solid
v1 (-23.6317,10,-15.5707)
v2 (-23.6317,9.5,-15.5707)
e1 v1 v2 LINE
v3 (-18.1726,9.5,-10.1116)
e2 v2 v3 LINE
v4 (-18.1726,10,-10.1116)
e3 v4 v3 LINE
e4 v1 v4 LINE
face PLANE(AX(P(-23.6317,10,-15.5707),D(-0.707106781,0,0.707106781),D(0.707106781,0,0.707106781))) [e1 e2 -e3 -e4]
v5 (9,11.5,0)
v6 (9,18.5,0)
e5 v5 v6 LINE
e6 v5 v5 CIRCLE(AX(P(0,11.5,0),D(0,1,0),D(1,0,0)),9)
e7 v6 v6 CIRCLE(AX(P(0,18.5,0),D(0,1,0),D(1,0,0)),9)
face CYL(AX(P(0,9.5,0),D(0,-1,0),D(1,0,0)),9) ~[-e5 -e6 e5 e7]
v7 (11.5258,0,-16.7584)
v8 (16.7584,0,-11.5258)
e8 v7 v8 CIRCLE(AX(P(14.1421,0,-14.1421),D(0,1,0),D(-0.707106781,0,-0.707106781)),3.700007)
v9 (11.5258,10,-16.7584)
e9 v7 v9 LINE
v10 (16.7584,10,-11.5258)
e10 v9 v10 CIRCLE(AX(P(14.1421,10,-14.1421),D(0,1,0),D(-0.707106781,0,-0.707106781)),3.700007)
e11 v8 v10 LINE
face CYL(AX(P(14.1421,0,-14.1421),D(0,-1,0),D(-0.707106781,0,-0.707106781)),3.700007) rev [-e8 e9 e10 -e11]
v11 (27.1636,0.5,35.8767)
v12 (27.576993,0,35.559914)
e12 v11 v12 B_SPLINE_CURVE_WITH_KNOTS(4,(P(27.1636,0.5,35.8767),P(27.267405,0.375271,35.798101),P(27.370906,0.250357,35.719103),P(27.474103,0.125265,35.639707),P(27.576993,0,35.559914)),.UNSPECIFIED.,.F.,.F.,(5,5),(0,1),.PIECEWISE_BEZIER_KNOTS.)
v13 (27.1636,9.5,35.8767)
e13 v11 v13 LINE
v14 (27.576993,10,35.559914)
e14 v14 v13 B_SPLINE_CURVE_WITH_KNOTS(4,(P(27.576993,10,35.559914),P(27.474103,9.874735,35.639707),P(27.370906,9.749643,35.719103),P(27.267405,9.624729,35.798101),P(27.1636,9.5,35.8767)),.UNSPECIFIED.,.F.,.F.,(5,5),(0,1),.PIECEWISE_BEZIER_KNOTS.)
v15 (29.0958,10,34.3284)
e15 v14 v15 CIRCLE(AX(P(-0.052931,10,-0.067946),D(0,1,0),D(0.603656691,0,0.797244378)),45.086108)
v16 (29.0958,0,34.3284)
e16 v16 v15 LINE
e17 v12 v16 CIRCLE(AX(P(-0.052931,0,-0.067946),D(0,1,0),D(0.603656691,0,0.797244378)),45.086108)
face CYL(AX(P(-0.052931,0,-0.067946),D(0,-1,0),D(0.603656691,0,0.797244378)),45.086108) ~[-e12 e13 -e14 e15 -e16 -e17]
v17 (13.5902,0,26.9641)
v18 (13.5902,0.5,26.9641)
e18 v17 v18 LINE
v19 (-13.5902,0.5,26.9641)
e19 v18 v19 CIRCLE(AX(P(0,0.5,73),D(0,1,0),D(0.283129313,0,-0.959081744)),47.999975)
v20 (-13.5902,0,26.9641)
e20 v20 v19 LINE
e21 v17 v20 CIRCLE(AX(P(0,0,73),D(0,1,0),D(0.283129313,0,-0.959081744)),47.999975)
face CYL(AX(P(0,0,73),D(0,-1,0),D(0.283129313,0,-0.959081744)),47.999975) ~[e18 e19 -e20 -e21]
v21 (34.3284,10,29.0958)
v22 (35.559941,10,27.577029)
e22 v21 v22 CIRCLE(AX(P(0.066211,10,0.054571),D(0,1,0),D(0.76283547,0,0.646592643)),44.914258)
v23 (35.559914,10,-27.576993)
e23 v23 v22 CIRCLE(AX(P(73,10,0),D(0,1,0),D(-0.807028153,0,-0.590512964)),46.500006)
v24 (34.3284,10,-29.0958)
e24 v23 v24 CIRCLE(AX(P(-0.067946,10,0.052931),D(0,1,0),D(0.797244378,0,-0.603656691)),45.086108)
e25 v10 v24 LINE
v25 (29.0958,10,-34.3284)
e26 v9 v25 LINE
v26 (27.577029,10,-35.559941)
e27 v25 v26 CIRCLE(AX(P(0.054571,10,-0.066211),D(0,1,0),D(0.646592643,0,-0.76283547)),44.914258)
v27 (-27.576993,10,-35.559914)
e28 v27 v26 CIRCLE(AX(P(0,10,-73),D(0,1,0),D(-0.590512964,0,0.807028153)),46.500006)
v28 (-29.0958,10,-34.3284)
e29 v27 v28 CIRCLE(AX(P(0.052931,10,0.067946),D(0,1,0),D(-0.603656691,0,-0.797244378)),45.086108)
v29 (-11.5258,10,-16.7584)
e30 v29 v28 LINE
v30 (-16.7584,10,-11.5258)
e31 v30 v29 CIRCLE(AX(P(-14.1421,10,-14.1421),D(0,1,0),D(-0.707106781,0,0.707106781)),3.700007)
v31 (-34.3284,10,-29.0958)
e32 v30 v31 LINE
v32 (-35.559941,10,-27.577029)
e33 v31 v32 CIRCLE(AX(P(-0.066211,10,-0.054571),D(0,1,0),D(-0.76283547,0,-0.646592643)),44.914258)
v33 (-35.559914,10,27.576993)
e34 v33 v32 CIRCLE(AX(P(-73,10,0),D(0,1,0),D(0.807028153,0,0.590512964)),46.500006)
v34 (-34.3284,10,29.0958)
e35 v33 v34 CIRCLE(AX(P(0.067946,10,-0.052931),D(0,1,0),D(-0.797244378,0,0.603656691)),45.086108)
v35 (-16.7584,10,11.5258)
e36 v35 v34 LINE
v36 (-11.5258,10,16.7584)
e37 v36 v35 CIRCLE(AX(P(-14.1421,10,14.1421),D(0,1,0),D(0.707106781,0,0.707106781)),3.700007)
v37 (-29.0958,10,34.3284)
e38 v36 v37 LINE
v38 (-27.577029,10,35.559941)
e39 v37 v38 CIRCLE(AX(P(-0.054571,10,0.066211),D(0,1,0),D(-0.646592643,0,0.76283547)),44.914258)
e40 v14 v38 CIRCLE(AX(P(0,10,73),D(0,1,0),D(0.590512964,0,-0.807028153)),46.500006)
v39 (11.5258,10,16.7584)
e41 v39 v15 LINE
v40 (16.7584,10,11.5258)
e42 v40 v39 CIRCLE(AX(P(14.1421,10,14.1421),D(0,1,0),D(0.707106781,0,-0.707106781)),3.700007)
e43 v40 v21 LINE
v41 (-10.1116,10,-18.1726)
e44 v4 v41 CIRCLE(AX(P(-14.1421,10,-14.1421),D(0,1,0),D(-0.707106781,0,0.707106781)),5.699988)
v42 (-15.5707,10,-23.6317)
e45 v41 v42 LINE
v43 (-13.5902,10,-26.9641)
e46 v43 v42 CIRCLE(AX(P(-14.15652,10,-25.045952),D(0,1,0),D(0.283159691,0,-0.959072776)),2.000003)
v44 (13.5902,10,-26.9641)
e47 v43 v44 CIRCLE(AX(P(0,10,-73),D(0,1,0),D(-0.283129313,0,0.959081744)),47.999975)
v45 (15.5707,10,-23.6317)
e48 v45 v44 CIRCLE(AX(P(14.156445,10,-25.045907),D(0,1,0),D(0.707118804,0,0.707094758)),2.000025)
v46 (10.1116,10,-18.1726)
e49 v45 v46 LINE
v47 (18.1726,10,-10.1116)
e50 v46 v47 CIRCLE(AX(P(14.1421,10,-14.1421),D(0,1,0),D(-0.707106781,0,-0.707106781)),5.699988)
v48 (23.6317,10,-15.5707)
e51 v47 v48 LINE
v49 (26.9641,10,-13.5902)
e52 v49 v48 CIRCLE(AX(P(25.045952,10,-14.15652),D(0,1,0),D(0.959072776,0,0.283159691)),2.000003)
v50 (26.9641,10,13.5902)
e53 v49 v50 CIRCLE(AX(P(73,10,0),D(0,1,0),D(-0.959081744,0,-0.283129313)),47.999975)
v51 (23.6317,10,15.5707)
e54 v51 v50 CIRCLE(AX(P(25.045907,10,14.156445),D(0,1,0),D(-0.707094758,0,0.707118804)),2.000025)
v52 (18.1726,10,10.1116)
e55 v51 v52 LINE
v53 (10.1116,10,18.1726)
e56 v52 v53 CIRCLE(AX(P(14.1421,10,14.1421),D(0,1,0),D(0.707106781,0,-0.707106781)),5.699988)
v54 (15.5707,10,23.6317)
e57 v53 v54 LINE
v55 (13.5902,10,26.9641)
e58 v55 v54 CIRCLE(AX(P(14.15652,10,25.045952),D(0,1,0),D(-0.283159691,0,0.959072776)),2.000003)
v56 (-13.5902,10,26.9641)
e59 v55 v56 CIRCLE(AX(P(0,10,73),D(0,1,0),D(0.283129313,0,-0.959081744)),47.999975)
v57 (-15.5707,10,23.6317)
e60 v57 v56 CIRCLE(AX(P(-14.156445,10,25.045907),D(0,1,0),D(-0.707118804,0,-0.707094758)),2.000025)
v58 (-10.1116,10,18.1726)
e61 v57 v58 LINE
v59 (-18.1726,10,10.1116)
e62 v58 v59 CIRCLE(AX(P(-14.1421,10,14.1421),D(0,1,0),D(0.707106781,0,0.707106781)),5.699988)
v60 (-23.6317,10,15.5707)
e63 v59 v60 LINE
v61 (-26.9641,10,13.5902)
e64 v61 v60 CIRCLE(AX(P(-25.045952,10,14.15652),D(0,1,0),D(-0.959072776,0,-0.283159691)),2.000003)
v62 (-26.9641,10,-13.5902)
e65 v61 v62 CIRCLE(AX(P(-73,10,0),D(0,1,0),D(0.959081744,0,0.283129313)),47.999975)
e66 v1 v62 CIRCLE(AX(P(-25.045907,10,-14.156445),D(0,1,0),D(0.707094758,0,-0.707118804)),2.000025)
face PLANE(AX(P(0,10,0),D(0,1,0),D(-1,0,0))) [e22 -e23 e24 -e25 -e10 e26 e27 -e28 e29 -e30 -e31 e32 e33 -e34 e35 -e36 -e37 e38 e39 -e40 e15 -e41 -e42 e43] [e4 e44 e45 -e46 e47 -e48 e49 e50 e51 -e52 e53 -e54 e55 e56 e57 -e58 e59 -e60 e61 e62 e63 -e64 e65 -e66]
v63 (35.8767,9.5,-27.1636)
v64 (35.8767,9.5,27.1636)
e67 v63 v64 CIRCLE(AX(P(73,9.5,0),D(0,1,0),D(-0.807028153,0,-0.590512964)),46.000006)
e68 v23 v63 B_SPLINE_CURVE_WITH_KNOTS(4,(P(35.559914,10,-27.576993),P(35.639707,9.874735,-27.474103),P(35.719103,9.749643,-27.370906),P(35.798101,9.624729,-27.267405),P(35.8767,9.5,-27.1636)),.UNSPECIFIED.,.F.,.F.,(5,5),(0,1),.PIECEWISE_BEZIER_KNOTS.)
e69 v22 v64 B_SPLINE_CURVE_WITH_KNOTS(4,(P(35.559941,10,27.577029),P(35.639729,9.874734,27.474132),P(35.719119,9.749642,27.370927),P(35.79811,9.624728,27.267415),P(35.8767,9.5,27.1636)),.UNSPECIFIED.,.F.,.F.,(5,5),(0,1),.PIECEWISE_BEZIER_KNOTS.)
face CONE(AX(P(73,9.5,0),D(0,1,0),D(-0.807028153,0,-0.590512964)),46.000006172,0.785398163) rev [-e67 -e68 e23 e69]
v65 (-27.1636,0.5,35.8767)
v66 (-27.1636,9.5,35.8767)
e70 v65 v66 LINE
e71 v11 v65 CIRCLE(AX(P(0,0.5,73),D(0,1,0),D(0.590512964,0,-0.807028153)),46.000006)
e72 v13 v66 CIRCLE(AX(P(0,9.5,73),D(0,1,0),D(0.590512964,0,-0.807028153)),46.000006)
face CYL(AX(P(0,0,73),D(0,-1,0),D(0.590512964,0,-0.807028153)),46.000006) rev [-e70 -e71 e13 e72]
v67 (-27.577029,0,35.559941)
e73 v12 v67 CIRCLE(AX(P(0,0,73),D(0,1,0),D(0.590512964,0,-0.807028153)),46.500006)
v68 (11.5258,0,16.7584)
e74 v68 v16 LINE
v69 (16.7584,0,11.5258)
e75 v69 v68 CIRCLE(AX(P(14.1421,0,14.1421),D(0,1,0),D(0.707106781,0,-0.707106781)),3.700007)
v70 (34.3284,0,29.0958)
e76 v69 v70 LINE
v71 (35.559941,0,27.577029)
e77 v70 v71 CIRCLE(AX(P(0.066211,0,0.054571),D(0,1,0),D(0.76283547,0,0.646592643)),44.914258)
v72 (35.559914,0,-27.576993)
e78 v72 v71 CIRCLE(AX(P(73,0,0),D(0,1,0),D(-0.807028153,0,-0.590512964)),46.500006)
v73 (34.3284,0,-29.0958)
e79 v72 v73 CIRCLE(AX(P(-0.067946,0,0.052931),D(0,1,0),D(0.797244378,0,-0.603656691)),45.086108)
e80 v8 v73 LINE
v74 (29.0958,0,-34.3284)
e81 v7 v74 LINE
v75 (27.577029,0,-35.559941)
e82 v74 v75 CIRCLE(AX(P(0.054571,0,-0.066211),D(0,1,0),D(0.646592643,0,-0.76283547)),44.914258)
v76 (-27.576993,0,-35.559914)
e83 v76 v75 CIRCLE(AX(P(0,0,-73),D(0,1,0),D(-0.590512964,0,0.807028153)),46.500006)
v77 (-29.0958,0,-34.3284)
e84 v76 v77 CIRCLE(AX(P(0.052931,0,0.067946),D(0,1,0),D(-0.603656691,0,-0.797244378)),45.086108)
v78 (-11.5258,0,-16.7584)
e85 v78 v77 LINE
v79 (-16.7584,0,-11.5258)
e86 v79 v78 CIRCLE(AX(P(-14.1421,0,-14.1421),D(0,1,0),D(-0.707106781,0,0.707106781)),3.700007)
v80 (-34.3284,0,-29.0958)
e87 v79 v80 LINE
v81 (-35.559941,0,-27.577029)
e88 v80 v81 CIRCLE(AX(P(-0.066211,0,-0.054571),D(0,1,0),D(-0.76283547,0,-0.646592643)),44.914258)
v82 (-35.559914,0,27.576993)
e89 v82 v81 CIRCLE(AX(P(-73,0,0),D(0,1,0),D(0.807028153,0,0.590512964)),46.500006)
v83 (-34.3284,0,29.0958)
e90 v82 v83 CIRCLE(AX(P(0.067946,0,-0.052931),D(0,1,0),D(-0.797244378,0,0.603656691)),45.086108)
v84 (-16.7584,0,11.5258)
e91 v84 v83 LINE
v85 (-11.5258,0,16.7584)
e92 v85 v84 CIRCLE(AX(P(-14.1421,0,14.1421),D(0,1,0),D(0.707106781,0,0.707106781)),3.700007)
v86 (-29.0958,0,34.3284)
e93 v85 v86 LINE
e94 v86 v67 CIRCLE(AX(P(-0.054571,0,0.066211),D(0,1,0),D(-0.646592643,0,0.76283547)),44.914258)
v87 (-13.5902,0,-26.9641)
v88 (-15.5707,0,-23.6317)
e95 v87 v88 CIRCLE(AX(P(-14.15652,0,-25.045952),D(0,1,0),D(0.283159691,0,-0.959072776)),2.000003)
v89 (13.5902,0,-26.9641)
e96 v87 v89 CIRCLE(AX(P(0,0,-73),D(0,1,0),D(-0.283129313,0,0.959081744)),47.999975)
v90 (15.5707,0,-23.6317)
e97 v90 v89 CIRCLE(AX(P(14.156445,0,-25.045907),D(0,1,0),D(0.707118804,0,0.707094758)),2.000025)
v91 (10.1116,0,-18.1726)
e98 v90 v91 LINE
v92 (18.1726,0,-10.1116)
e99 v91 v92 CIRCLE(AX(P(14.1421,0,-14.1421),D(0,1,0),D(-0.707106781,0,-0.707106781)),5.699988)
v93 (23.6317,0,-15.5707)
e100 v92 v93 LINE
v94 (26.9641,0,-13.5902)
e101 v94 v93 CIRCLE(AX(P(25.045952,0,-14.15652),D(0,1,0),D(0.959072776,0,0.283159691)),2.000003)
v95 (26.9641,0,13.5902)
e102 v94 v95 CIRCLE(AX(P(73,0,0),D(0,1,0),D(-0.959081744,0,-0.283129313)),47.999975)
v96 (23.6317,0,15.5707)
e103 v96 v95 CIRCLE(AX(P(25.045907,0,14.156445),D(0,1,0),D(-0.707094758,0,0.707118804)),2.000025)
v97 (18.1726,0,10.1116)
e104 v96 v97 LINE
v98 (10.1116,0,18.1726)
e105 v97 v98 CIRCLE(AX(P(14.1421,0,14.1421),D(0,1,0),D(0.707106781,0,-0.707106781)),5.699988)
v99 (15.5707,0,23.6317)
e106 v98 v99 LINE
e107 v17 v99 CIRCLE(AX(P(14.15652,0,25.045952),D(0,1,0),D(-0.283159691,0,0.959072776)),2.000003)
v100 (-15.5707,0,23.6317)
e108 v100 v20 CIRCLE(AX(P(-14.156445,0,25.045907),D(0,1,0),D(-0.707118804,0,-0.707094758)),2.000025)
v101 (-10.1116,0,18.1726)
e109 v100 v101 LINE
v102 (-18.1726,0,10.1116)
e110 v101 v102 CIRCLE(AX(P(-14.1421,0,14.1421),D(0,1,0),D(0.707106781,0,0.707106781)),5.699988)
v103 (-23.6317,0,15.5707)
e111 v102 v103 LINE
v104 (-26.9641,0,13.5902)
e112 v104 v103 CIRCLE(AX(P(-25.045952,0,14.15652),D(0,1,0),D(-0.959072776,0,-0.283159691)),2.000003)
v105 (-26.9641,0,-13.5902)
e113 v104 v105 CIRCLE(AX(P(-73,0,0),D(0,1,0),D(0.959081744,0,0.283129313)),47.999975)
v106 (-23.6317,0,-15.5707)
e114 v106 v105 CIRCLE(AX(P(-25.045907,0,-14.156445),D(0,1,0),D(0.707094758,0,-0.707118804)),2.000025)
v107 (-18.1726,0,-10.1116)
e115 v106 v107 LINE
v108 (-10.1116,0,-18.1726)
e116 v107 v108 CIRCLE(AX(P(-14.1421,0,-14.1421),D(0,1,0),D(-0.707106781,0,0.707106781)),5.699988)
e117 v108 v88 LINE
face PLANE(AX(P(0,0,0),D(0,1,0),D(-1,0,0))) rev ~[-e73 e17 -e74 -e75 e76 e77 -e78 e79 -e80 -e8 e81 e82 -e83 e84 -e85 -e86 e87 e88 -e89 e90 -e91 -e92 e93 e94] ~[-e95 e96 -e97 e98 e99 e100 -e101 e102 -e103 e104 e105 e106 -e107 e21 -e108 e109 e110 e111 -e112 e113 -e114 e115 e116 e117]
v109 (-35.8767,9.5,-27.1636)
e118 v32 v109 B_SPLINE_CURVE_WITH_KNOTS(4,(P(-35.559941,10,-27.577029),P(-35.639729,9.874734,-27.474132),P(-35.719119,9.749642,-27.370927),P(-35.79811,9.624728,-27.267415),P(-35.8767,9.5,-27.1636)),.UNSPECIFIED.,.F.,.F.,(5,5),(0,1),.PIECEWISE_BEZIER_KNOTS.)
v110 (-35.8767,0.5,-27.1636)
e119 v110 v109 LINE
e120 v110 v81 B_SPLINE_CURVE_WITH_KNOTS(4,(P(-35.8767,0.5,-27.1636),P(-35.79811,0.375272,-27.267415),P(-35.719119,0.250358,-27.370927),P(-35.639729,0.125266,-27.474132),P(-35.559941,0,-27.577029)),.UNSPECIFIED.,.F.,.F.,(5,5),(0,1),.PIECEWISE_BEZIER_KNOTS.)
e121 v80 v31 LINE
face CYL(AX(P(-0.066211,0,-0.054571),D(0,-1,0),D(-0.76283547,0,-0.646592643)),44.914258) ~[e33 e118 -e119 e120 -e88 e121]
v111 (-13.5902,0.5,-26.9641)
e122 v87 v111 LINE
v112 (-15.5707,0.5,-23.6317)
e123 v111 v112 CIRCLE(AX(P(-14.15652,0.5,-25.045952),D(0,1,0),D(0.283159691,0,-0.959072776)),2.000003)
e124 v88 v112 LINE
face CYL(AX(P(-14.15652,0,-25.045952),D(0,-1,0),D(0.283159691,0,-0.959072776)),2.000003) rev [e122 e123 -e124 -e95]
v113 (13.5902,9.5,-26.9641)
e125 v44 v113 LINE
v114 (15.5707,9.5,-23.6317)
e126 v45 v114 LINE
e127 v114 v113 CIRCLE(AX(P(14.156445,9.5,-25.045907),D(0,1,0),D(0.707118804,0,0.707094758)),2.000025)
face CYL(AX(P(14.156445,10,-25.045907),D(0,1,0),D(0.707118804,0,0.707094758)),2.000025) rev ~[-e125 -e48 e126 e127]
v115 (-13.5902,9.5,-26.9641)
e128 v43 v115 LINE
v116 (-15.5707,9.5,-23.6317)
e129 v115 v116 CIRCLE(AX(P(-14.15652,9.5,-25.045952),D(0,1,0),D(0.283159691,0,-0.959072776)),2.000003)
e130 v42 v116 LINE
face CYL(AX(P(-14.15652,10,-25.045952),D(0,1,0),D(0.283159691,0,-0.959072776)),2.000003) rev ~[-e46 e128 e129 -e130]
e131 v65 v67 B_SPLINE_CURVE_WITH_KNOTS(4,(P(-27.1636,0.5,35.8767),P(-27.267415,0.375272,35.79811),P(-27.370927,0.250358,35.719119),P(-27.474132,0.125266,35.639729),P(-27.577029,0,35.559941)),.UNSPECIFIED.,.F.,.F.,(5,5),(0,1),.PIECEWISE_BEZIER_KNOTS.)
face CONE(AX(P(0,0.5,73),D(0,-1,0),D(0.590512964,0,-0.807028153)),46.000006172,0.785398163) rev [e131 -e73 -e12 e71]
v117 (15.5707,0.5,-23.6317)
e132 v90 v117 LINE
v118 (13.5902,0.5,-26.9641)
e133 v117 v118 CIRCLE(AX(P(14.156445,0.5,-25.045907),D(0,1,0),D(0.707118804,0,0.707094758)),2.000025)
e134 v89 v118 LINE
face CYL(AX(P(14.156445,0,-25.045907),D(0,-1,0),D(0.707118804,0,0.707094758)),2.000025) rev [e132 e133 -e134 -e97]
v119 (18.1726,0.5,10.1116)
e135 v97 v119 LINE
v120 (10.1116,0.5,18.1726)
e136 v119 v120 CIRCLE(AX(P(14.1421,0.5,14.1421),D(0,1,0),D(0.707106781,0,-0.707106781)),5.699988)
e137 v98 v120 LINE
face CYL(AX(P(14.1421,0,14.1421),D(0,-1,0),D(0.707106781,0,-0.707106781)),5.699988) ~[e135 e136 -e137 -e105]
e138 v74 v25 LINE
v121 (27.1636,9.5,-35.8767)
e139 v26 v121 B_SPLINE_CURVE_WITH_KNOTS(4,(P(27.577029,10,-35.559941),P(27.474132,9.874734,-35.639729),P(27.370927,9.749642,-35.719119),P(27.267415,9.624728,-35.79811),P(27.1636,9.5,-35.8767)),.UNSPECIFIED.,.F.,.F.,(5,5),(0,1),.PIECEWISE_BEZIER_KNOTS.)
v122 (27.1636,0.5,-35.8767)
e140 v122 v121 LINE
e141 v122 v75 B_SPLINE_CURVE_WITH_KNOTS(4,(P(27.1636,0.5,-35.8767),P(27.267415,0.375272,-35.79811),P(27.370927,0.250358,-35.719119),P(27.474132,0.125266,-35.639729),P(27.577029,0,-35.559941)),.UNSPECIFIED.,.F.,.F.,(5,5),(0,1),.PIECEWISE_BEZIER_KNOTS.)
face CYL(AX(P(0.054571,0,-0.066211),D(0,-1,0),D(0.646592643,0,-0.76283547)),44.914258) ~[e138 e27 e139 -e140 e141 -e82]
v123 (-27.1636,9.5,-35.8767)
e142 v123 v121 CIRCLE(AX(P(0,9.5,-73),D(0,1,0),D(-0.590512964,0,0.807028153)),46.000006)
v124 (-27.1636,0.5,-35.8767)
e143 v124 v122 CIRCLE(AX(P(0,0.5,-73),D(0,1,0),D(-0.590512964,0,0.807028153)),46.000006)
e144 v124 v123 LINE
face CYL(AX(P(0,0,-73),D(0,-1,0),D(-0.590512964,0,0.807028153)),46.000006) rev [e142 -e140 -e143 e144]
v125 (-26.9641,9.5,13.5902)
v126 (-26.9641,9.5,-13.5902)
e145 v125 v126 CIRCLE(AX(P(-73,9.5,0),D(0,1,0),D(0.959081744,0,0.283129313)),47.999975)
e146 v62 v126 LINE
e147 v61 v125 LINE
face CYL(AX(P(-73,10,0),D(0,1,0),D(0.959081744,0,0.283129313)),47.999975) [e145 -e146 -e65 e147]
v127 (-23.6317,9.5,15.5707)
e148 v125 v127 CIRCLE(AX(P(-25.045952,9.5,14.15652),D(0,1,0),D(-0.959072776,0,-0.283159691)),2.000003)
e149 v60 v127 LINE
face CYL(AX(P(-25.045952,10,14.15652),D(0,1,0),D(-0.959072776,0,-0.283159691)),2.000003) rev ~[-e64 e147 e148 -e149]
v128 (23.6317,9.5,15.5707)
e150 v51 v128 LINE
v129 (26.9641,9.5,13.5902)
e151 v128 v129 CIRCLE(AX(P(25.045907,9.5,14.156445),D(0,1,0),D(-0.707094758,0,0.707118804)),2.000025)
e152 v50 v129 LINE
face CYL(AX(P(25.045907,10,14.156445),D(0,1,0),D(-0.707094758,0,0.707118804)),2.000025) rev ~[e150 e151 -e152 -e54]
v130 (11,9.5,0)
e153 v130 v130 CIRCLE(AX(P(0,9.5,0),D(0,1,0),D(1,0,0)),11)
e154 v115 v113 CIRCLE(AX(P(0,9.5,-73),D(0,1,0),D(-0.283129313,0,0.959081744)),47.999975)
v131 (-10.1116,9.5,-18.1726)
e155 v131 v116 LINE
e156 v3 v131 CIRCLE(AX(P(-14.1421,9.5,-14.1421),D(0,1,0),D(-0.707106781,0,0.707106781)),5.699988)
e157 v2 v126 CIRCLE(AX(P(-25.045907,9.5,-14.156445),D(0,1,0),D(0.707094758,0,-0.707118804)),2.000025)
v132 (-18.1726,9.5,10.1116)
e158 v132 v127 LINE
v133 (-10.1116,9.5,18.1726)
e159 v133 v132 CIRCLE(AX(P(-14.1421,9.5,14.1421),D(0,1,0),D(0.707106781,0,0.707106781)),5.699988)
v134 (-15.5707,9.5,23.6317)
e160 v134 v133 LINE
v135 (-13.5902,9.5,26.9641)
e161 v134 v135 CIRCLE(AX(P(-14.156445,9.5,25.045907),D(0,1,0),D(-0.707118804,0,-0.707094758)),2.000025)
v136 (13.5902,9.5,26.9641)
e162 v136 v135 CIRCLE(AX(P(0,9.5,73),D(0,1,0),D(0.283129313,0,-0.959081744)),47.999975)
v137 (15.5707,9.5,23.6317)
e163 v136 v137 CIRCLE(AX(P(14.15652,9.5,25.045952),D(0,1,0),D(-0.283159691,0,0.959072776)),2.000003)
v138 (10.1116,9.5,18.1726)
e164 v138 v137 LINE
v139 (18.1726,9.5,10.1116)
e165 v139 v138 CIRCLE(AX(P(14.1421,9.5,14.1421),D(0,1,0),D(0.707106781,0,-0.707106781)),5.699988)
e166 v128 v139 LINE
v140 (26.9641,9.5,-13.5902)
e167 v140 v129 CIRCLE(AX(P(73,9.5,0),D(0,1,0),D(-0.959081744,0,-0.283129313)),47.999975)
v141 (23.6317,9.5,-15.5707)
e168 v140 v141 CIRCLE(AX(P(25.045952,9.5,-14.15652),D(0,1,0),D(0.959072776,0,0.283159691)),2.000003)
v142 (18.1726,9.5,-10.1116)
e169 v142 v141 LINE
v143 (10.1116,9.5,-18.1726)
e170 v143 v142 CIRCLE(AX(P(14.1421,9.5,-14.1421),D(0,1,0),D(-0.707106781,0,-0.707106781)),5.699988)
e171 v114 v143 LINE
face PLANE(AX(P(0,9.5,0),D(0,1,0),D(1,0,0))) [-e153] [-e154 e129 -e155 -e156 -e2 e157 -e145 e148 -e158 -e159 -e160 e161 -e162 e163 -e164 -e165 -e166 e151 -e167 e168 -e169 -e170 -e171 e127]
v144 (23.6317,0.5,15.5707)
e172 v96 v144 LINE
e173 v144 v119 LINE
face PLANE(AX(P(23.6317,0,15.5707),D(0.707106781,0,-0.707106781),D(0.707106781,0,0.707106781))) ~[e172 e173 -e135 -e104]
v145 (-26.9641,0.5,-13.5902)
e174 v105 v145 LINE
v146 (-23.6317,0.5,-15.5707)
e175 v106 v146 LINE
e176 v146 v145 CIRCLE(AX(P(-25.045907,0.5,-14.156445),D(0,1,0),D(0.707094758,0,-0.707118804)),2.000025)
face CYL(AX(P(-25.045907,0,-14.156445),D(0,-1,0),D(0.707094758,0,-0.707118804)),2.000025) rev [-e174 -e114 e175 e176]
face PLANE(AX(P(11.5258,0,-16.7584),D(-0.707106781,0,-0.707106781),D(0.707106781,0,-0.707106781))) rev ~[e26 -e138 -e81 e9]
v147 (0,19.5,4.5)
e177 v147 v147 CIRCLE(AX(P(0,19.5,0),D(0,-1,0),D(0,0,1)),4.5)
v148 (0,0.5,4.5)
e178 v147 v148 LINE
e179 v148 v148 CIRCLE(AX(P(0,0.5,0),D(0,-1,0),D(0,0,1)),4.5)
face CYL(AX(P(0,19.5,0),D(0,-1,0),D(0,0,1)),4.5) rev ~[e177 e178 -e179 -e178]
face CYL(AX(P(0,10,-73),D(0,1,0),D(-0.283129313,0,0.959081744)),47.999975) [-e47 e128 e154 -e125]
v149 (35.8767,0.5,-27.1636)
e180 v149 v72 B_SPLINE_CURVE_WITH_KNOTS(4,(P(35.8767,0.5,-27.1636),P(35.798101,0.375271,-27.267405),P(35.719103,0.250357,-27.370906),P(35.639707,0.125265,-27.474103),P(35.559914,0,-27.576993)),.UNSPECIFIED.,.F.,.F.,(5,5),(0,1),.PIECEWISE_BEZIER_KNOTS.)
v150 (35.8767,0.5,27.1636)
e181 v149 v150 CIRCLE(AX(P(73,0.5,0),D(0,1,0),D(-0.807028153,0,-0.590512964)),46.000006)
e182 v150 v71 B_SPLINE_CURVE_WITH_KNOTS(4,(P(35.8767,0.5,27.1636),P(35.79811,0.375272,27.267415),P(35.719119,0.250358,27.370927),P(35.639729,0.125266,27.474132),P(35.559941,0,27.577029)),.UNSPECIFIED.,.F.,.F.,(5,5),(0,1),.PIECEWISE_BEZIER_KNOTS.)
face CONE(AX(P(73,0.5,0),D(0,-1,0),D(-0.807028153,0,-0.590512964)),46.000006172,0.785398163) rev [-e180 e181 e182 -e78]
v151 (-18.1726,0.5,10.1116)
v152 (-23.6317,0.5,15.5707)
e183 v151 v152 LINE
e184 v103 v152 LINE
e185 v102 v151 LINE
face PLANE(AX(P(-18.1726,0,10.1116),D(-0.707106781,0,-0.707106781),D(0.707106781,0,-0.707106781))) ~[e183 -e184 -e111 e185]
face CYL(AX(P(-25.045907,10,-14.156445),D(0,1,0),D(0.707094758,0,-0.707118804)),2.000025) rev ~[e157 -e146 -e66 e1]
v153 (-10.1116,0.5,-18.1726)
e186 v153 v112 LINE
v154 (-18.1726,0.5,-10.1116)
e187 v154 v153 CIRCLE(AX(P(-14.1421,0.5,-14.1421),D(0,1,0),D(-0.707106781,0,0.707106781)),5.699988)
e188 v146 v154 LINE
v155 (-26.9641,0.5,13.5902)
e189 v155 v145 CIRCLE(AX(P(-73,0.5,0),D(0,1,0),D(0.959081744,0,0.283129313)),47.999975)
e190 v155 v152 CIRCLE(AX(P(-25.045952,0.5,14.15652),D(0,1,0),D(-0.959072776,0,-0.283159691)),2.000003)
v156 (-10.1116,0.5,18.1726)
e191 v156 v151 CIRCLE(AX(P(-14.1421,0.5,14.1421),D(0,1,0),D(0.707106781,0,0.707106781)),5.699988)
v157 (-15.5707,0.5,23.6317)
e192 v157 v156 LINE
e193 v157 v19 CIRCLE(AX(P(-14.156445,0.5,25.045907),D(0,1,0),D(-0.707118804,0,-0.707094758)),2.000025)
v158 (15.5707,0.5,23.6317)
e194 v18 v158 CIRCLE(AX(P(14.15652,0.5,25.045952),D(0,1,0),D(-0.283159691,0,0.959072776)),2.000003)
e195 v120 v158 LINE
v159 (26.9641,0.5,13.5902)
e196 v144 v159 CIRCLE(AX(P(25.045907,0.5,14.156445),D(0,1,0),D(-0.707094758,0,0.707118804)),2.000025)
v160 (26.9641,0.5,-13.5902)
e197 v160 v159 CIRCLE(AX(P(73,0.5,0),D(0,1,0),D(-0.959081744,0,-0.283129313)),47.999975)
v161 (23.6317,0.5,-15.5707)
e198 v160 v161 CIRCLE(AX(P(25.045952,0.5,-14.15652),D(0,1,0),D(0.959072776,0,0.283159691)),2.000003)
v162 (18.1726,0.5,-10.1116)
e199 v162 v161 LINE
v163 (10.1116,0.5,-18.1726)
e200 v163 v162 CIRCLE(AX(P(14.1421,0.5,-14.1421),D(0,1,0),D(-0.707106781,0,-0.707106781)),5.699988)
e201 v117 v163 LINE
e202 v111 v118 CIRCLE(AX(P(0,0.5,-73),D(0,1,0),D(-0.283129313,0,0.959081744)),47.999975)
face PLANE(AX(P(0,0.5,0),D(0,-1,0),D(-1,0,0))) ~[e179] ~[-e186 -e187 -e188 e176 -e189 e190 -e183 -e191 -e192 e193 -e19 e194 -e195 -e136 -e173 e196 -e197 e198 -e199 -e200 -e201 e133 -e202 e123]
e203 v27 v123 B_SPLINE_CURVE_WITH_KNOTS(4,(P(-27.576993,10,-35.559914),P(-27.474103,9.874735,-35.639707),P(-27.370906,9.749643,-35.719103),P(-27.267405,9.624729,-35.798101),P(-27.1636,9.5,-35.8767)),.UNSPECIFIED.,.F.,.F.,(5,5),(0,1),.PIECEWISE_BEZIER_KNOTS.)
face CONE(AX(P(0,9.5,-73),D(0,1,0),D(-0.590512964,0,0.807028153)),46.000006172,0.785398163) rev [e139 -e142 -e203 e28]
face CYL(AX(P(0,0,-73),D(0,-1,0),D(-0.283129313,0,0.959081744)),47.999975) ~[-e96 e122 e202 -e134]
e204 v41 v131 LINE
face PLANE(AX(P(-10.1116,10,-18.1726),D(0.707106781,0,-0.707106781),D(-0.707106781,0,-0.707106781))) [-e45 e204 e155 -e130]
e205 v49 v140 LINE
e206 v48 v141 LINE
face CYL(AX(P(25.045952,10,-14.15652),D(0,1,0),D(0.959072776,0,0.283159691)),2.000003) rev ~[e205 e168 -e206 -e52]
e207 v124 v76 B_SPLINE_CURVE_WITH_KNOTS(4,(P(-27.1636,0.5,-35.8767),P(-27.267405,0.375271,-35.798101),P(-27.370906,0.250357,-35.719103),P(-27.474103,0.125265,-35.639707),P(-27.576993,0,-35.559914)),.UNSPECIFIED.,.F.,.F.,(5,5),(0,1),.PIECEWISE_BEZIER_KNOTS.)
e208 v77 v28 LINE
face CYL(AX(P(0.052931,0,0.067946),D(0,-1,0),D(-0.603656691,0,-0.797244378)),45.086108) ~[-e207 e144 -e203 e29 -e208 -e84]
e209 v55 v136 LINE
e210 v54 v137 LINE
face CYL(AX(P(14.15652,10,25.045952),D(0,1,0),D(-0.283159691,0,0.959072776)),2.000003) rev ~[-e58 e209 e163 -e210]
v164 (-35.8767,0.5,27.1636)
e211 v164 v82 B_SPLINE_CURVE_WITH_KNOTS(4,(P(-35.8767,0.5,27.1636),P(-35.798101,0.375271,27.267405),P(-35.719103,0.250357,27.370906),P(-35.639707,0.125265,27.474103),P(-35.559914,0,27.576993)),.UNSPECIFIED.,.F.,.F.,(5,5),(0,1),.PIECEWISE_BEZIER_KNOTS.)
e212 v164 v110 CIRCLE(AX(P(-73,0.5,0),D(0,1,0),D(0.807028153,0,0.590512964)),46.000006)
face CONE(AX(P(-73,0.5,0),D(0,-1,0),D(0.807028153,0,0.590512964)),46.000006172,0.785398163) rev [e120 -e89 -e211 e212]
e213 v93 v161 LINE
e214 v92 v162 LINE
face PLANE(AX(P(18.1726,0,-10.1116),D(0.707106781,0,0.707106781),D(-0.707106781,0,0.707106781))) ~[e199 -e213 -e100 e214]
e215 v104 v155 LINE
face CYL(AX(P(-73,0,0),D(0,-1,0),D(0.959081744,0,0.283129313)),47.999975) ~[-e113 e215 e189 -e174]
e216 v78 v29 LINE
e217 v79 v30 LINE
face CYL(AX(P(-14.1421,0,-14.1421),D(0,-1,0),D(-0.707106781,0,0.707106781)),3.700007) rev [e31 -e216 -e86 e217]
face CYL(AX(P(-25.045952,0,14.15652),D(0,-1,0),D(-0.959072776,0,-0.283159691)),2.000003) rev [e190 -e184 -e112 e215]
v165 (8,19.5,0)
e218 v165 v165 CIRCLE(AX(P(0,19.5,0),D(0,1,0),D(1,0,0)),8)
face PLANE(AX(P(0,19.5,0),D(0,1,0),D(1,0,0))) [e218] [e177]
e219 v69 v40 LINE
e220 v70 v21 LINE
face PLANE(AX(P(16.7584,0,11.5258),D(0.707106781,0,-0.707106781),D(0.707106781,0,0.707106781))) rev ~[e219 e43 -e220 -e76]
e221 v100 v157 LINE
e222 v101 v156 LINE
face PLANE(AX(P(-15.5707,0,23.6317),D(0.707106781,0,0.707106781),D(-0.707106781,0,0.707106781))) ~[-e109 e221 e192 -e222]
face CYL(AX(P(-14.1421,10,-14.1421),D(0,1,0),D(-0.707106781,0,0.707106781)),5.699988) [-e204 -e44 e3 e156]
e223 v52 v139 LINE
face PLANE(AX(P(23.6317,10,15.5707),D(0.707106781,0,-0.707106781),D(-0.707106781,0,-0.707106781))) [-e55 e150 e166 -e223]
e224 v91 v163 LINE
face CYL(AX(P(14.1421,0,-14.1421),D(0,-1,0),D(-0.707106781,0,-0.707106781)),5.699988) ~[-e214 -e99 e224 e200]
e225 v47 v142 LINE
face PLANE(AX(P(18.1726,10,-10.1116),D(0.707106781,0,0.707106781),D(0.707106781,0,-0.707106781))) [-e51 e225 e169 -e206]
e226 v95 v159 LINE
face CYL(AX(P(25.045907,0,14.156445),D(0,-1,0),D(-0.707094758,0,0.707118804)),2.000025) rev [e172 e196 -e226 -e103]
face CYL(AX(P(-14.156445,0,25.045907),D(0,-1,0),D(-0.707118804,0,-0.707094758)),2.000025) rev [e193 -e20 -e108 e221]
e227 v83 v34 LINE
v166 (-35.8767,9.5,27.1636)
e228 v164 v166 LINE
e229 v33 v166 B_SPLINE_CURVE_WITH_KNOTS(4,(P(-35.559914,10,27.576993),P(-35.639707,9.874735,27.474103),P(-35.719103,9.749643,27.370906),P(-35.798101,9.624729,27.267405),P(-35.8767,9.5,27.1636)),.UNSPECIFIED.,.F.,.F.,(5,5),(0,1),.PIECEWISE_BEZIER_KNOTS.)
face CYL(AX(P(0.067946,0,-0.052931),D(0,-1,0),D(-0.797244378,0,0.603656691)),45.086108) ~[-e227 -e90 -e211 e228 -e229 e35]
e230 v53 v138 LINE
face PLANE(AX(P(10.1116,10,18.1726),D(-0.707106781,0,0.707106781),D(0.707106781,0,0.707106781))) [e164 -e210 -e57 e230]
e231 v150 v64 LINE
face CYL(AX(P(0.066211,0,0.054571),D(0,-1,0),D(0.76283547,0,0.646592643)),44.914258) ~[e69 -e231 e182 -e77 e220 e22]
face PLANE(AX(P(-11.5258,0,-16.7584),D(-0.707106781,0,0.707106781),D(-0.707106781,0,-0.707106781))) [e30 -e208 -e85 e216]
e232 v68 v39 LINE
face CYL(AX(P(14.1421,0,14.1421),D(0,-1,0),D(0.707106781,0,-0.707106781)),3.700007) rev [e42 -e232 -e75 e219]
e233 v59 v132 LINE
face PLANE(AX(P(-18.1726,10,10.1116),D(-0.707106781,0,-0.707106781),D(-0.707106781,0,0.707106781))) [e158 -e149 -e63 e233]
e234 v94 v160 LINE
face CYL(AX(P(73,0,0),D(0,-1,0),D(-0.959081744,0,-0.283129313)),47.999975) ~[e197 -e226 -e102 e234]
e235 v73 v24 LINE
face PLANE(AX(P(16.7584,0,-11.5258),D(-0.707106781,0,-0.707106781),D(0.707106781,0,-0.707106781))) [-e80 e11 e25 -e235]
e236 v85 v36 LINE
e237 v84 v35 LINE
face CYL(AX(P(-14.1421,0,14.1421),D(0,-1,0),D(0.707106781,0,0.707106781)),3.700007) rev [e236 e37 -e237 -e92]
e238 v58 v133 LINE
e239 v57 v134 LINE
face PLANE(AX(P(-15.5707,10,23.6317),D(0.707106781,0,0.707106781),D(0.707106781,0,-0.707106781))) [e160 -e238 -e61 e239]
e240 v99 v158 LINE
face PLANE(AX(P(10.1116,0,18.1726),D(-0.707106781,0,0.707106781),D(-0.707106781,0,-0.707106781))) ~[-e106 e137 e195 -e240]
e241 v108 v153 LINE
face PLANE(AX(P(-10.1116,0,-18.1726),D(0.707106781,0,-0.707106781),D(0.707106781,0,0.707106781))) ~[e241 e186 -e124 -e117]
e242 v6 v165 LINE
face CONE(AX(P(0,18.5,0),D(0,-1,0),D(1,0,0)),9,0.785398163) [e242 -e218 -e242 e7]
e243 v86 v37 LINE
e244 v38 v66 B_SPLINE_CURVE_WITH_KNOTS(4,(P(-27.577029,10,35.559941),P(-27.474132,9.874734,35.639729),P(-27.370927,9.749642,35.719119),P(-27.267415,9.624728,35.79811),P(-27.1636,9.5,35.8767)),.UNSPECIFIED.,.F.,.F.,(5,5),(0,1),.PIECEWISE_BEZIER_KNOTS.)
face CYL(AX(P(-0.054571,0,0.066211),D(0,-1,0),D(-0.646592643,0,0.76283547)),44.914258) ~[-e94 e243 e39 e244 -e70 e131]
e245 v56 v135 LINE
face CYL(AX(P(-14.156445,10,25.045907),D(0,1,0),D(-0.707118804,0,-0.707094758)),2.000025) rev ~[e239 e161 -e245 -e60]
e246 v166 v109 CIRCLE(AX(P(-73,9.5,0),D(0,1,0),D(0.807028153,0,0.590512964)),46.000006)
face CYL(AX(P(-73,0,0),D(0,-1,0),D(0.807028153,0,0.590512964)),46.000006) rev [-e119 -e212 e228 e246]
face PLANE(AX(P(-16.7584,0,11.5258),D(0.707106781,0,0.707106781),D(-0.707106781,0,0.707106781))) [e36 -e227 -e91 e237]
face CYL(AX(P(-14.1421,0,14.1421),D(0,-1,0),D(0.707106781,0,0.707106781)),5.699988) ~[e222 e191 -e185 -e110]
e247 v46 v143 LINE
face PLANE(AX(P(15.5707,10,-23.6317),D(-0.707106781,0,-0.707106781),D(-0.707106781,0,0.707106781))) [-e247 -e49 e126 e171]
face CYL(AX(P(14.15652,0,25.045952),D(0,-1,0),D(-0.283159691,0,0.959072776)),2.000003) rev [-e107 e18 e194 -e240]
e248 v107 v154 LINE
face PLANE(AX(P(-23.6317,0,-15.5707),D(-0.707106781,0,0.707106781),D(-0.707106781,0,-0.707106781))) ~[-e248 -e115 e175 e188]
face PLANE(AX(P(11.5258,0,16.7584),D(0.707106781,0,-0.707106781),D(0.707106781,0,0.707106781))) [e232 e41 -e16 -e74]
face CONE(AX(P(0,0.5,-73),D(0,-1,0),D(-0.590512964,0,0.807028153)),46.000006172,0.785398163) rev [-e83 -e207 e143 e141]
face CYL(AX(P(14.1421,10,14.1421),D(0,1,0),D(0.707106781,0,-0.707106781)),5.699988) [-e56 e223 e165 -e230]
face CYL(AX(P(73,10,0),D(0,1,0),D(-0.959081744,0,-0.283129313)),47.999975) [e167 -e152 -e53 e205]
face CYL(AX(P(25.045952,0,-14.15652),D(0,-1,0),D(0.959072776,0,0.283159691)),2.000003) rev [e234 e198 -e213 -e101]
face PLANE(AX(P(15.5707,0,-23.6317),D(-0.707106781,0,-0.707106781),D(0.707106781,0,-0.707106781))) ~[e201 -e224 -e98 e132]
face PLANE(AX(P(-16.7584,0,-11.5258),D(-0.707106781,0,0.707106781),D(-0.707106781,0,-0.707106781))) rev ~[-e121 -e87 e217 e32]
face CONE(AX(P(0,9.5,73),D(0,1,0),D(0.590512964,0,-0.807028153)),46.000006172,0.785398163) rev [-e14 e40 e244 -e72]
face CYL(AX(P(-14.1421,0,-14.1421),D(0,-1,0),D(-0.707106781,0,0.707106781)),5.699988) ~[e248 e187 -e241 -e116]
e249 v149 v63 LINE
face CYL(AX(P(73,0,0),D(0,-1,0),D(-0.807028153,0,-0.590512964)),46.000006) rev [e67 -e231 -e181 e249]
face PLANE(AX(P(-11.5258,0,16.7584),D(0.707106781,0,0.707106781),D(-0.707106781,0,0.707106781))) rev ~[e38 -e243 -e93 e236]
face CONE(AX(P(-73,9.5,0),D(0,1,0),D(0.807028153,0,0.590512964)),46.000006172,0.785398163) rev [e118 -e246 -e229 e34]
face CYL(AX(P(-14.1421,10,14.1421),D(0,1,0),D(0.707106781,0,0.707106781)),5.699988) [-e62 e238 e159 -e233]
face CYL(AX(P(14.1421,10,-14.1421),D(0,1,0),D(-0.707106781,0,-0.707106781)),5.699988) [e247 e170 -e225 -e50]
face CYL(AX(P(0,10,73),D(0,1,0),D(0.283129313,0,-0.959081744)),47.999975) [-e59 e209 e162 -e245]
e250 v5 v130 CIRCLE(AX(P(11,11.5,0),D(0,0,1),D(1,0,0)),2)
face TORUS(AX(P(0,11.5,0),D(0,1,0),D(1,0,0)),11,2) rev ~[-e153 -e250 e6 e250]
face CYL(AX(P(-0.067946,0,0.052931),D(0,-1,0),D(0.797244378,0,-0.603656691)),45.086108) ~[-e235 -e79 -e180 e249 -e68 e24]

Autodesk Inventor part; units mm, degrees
ref_plane "YZ Plane" through (0, 0, 0) normal (1, 0, 0) x (0, 1, 0)
ref_plane "XZ Plane" through (0, 0, 0) normal (0, 1, 0) x (-1, 0, 0)
sketch "Sketch2" plane through (0, 0, 0) normal (0, 1, 0) x (-1, 0, 0)
  circle A0 centre (0, 0) radius 45 construction
  arc A1 (35.8767, 27.1636) -> (35.8767, -27.1636) centre (73, 0) ccw
  arc A2 (-27.1636, 35.8767) -> (27.1636, 35.8767) centre (0, 73) ccw
  arc A3 (-35.8767, -27.1636) -> (-35.8767, 27.1636) centre (-73, 0) ccw
  arc A4 (27.1636, -35.8767) -> (-27.1636, -35.8767) centre (0, -73) ccw
  circle A5 centre (0, 0) radius 20 construction
  line L0 (0, 0) -> (31.8198, -31.8198) construction
  line L1 (0, 0) -> (45, 0) construction
  arc A6 (16.7584, -11.5258) -> (11.5258, -16.7584) centre (14.1421, -14.1421) ccw
  line L2 (16.7584, -11.5258) -> (34.3284, -29.0958)
  line L3 (11.5258, -16.7584) -> (29.0958, -34.3284)
  arc A7 (34.3284, -29.0958) -> (35.8767, -27.1636) centre (0, 0) ccw
  arc A8 (27.1636, -35.8767) -> (29.0958, -34.3284) centre (0, 0) ccw
  arc A9 (11.5258, 16.7584) -> (16.7584, 11.5258) centre (14.1421, 14.1421) ccw
  line L4 (16.7584, 11.5258) -> (34.3284, 29.0958)
  line L5 (11.5258, 16.7584) -> (29.0958, 34.3284)
  arc A10 (29.0958, 34.3284) -> (27.1636, 35.8767) centre (0, 0) ccw
  arc A11 (35.8767, 27.1636) -> (34.3284, 29.0958) centre (0, 0) ccw
  arc A12 (-16.7584, 11.5258) -> (-11.5258, 16.7584) centre (-14.1421, 14.1421) ccw
  line L6 (-11.5258, 16.7584) -> (-29.0958, 34.3284)
  line L7 (-16.7584, 11.5258) -> (-34.3284, 29.0958)
  arc A13 (-34.3284, 29.0958) -> (-35.8767, 27.1636) centre (0, 0) ccw
  arc A14 (-27.1636, 35.8767) -> (-29.0958, 34.3284) centre (0, 0) ccw
  arc A15 (-11.5258, -16.7584) -> (-16.7584, -11.5258) centre (-14.1421, -14.1421) ccw
  line L8 (-16.7584, -11.5258) -> (-34.3284, -29.0958)
  line L9 (-11.5258, -16.7584) -> (-29.0958, -34.3284)
  arc A16 (-29.0958, -34.3284) -> (-27.1636, -35.8767) centre (0, 0) ccw
  arc A17 (-35.8767, -27.1636) -> (-34.3284, -29.0958) centre (0, 0) ccw
  point P0 (27.1636, 35.8767)
  point P1 (-27.1636, 35.8767)
  point P2 (-35.8767, 27.1636)
  point P3 (-27.1636, -35.8767)
  point P4 (35.8767, 27.1636)
  dimension "d14" = 40
  dimension "d7" = 90
  dimension "d8" = 46
  dimension "d9" = 73
  dimension "d12" = 360
  dimension "d15" = 45
  dimension "d16" = 7.4
  dimension "d19" = 360
extrude "Extrusion1" add sketch "Sketch2" along normal blind 10
sketch "Sketch3" plane through (0, 10, 0) normal (0, 1, 0) x (1, 0, 0)
  arc A0 (27.1636, -35.8767) -> (-27.1636, -35.8767) centre (0, -73) ccw projected
  line L0 (29.0958, -34.3284) -> (11.5258, -16.7584) projected
  arc A1 (16.7584, -11.5258) -> (11.5258, -16.7584) centre (14.1421, -14.1421) ccw projected
  line L1 (16.7584, -11.5258) -> (34.3284, -29.0958) projected
  arc A2 (35.8767, 27.1636) -> (35.8767, -27.1636) centre (73, 0) ccw projected
  line L2 (34.3284, 29.0958) -> (16.7584, 11.5258) projected
  arc A3 (11.5258, 16.7584) -> (16.7584, 11.5258) centre (14.1421, 14.1421) ccw projected
  line L3 (11.5258, 16.7584) -> (29.0958, 34.3284) projected
  arc A4 (-27.1636, 35.8767) -> (27.1636, 35.8767) centre (0, 73) ccw projected
  line L4 (-29.0958, 34.3284) -> (-11.5258, 16.7584) projected
  arc A5 (-16.7584, 11.5258) -> (-11.5258, 16.7584) centre (-14.1421, 14.1421) ccw projected
  line L5 (-16.7584, 11.5258) -> (-34.3284, 29.0958) projected
  arc A6 (-35.8767, -27.1636) -> (-35.8767, 27.1636) centre (-73, 0) ccw projected
  line L6 (-34.3284, -29.0958) -> (-16.7584, -11.5258) projected
  arc A7 (-11.5258, -16.7584) -> (-16.7584, -11.5258) centre (-14.1421, -14.1421) ccw projected
  line L7 (-11.5258, -16.7584) -> (-29.0958, -34.3284) projected
  line L8 (-15.5707, -23.6317) -> (-10.1116, -18.1726)
  arc A8 (-10.1116, -18.1726) -> (-18.1726, -10.1116) centre (-14.1421, -14.1421) ccw
  line L9 (-18.1726, -10.1116) -> (-23.6317, -15.5707)
  arc A9 (-26.9641, -13.5902) -> (-26.9641, 13.5902) centre (-73, 0) ccw
  line L10 (-23.6317, 15.5707) -> (-18.1726, 10.1116)
  arc A10 (-18.1726, 10.1116) -> (-10.1116, 18.1726) centre (-14.1421, 14.1421) ccw
  line L11 (-10.1116, 18.1726) -> (-15.5707, 23.6317)
  arc A11 (-13.5902, 26.9641) -> (13.5902, 26.9641) centre (0, 73) ccw
  line L12 (15.5707, 23.6317) -> (10.1116, 18.1726)
  arc A12 (10.1116, 18.1726) -> (18.1726, 10.1116) centre (14.1421, 14.1421) ccw
  line L13 (18.1726, 10.1116) -> (23.6317, 15.5707)
  arc A13 (26.9641, 13.5902) -> (26.9641, -13.5902) centre (73, 0) ccw
  line L14 (23.6317, -15.5707) -> (18.1726, -10.1116)
  arc A14 (18.1726, -10.1116) -> (10.1116, -18.1726) centre (14.1421, -14.1421) ccw
  line L15 (10.1116, -18.1726) -> (15.5707, -23.6317)
  arc A15 (13.5902, -26.9641) -> (-13.5902, -26.9641) centre (0, -73) ccw
  arc A16 (-15.5707, -23.6317) -> (-13.5902, -26.9641) centre (-14.1565, -25.0459) ccw
  arc A17 (-26.9641, -13.5902) -> (-23.6317, -15.5707) centre (-25.0459, -14.1565) ccw
  arc A18 (-23.6317, 15.5707) -> (-26.9641, 13.5902) centre (-25.0459, 14.1565) ccw
  arc A19 (-13.5902, 26.9641) -> (-15.5707, 23.6317) centre (-14.1565, 25.0459) ccw
  arc A20 (15.5707, 23.6317) -> (13.5902, 26.9641) centre (14.1565, 25.0459) ccw
  arc A21 (26.9641, 13.5902) -> (23.6317, 15.5707) centre (25.0459, 14.1565) ccw
  arc A22 (23.6317, -15.5707) -> (26.9641, -13.5902) centre (25.0459, -14.1565) ccw
  arc A23 (13.5902, -26.9641) -> (15.5707, -23.6317) centre (14.1565, -25.0459) ccw
  point P0 (-22.5835, -30.6446)
  point P1 (-30.6446, -22.5835)
  point P2 (-30.6446, 22.5835)
  point P3 (-22.5835, 30.6446)
  point P4 (22.5835, 30.6446)
  point P5 (30.6446, 22.5835)
  point P6 (30.6446, -22.5835)
  point P7 (22.5835, -30.6446)
  dimension "d23" = 2
  dimension "d24" = 2
extrude "Extrusion2" cut sketch "Sketch3" against normal blind 0.5
ref_plane "Work Plane1" through (0, 5, 0) normal (0, 1, 0) x (1, 0, 0)
mirror "Mirror1" about plane through (0, 5, 0) normal (0, 1, 0) of "Extrusion2"
sketch "Sketch4" plane through (0, 9.5, 0) normal (0, 1, 0) x (1, 0, 0)
  circle A0 centre (0, 0) radius 9
  dimension "d27" = 18
extrude "Extrusion3" add sketch "Sketch4" along normal blind 10
sketch "Sketch5" plane through (0, 19.5, 0) normal (0, 1, 0) x (1, 0, 0)
  circle A0 centre (0, 0) radius 9 projected
hole "Hole1" at (0, 19.5, 0) direction (0, -1, 0) diameter 9 end through all
chamfer "Chamfer1" distance 1 angle 45 1 edges at (-9, 19.5, 0)
fillet "Fillet1" radius 2 1 edges at (-9, 9.5, 0)
chamfer "Chamfer3" distance 0.5 angle 45 8 edges at (-27, 10, 0) (0, 10, -27) (27, 10, 0) (0, 10, 27) (0, 0, 27) (-27, 0, 0) (0, 0, -27) (27, 0, 0)
properties part number "Malta cross"
